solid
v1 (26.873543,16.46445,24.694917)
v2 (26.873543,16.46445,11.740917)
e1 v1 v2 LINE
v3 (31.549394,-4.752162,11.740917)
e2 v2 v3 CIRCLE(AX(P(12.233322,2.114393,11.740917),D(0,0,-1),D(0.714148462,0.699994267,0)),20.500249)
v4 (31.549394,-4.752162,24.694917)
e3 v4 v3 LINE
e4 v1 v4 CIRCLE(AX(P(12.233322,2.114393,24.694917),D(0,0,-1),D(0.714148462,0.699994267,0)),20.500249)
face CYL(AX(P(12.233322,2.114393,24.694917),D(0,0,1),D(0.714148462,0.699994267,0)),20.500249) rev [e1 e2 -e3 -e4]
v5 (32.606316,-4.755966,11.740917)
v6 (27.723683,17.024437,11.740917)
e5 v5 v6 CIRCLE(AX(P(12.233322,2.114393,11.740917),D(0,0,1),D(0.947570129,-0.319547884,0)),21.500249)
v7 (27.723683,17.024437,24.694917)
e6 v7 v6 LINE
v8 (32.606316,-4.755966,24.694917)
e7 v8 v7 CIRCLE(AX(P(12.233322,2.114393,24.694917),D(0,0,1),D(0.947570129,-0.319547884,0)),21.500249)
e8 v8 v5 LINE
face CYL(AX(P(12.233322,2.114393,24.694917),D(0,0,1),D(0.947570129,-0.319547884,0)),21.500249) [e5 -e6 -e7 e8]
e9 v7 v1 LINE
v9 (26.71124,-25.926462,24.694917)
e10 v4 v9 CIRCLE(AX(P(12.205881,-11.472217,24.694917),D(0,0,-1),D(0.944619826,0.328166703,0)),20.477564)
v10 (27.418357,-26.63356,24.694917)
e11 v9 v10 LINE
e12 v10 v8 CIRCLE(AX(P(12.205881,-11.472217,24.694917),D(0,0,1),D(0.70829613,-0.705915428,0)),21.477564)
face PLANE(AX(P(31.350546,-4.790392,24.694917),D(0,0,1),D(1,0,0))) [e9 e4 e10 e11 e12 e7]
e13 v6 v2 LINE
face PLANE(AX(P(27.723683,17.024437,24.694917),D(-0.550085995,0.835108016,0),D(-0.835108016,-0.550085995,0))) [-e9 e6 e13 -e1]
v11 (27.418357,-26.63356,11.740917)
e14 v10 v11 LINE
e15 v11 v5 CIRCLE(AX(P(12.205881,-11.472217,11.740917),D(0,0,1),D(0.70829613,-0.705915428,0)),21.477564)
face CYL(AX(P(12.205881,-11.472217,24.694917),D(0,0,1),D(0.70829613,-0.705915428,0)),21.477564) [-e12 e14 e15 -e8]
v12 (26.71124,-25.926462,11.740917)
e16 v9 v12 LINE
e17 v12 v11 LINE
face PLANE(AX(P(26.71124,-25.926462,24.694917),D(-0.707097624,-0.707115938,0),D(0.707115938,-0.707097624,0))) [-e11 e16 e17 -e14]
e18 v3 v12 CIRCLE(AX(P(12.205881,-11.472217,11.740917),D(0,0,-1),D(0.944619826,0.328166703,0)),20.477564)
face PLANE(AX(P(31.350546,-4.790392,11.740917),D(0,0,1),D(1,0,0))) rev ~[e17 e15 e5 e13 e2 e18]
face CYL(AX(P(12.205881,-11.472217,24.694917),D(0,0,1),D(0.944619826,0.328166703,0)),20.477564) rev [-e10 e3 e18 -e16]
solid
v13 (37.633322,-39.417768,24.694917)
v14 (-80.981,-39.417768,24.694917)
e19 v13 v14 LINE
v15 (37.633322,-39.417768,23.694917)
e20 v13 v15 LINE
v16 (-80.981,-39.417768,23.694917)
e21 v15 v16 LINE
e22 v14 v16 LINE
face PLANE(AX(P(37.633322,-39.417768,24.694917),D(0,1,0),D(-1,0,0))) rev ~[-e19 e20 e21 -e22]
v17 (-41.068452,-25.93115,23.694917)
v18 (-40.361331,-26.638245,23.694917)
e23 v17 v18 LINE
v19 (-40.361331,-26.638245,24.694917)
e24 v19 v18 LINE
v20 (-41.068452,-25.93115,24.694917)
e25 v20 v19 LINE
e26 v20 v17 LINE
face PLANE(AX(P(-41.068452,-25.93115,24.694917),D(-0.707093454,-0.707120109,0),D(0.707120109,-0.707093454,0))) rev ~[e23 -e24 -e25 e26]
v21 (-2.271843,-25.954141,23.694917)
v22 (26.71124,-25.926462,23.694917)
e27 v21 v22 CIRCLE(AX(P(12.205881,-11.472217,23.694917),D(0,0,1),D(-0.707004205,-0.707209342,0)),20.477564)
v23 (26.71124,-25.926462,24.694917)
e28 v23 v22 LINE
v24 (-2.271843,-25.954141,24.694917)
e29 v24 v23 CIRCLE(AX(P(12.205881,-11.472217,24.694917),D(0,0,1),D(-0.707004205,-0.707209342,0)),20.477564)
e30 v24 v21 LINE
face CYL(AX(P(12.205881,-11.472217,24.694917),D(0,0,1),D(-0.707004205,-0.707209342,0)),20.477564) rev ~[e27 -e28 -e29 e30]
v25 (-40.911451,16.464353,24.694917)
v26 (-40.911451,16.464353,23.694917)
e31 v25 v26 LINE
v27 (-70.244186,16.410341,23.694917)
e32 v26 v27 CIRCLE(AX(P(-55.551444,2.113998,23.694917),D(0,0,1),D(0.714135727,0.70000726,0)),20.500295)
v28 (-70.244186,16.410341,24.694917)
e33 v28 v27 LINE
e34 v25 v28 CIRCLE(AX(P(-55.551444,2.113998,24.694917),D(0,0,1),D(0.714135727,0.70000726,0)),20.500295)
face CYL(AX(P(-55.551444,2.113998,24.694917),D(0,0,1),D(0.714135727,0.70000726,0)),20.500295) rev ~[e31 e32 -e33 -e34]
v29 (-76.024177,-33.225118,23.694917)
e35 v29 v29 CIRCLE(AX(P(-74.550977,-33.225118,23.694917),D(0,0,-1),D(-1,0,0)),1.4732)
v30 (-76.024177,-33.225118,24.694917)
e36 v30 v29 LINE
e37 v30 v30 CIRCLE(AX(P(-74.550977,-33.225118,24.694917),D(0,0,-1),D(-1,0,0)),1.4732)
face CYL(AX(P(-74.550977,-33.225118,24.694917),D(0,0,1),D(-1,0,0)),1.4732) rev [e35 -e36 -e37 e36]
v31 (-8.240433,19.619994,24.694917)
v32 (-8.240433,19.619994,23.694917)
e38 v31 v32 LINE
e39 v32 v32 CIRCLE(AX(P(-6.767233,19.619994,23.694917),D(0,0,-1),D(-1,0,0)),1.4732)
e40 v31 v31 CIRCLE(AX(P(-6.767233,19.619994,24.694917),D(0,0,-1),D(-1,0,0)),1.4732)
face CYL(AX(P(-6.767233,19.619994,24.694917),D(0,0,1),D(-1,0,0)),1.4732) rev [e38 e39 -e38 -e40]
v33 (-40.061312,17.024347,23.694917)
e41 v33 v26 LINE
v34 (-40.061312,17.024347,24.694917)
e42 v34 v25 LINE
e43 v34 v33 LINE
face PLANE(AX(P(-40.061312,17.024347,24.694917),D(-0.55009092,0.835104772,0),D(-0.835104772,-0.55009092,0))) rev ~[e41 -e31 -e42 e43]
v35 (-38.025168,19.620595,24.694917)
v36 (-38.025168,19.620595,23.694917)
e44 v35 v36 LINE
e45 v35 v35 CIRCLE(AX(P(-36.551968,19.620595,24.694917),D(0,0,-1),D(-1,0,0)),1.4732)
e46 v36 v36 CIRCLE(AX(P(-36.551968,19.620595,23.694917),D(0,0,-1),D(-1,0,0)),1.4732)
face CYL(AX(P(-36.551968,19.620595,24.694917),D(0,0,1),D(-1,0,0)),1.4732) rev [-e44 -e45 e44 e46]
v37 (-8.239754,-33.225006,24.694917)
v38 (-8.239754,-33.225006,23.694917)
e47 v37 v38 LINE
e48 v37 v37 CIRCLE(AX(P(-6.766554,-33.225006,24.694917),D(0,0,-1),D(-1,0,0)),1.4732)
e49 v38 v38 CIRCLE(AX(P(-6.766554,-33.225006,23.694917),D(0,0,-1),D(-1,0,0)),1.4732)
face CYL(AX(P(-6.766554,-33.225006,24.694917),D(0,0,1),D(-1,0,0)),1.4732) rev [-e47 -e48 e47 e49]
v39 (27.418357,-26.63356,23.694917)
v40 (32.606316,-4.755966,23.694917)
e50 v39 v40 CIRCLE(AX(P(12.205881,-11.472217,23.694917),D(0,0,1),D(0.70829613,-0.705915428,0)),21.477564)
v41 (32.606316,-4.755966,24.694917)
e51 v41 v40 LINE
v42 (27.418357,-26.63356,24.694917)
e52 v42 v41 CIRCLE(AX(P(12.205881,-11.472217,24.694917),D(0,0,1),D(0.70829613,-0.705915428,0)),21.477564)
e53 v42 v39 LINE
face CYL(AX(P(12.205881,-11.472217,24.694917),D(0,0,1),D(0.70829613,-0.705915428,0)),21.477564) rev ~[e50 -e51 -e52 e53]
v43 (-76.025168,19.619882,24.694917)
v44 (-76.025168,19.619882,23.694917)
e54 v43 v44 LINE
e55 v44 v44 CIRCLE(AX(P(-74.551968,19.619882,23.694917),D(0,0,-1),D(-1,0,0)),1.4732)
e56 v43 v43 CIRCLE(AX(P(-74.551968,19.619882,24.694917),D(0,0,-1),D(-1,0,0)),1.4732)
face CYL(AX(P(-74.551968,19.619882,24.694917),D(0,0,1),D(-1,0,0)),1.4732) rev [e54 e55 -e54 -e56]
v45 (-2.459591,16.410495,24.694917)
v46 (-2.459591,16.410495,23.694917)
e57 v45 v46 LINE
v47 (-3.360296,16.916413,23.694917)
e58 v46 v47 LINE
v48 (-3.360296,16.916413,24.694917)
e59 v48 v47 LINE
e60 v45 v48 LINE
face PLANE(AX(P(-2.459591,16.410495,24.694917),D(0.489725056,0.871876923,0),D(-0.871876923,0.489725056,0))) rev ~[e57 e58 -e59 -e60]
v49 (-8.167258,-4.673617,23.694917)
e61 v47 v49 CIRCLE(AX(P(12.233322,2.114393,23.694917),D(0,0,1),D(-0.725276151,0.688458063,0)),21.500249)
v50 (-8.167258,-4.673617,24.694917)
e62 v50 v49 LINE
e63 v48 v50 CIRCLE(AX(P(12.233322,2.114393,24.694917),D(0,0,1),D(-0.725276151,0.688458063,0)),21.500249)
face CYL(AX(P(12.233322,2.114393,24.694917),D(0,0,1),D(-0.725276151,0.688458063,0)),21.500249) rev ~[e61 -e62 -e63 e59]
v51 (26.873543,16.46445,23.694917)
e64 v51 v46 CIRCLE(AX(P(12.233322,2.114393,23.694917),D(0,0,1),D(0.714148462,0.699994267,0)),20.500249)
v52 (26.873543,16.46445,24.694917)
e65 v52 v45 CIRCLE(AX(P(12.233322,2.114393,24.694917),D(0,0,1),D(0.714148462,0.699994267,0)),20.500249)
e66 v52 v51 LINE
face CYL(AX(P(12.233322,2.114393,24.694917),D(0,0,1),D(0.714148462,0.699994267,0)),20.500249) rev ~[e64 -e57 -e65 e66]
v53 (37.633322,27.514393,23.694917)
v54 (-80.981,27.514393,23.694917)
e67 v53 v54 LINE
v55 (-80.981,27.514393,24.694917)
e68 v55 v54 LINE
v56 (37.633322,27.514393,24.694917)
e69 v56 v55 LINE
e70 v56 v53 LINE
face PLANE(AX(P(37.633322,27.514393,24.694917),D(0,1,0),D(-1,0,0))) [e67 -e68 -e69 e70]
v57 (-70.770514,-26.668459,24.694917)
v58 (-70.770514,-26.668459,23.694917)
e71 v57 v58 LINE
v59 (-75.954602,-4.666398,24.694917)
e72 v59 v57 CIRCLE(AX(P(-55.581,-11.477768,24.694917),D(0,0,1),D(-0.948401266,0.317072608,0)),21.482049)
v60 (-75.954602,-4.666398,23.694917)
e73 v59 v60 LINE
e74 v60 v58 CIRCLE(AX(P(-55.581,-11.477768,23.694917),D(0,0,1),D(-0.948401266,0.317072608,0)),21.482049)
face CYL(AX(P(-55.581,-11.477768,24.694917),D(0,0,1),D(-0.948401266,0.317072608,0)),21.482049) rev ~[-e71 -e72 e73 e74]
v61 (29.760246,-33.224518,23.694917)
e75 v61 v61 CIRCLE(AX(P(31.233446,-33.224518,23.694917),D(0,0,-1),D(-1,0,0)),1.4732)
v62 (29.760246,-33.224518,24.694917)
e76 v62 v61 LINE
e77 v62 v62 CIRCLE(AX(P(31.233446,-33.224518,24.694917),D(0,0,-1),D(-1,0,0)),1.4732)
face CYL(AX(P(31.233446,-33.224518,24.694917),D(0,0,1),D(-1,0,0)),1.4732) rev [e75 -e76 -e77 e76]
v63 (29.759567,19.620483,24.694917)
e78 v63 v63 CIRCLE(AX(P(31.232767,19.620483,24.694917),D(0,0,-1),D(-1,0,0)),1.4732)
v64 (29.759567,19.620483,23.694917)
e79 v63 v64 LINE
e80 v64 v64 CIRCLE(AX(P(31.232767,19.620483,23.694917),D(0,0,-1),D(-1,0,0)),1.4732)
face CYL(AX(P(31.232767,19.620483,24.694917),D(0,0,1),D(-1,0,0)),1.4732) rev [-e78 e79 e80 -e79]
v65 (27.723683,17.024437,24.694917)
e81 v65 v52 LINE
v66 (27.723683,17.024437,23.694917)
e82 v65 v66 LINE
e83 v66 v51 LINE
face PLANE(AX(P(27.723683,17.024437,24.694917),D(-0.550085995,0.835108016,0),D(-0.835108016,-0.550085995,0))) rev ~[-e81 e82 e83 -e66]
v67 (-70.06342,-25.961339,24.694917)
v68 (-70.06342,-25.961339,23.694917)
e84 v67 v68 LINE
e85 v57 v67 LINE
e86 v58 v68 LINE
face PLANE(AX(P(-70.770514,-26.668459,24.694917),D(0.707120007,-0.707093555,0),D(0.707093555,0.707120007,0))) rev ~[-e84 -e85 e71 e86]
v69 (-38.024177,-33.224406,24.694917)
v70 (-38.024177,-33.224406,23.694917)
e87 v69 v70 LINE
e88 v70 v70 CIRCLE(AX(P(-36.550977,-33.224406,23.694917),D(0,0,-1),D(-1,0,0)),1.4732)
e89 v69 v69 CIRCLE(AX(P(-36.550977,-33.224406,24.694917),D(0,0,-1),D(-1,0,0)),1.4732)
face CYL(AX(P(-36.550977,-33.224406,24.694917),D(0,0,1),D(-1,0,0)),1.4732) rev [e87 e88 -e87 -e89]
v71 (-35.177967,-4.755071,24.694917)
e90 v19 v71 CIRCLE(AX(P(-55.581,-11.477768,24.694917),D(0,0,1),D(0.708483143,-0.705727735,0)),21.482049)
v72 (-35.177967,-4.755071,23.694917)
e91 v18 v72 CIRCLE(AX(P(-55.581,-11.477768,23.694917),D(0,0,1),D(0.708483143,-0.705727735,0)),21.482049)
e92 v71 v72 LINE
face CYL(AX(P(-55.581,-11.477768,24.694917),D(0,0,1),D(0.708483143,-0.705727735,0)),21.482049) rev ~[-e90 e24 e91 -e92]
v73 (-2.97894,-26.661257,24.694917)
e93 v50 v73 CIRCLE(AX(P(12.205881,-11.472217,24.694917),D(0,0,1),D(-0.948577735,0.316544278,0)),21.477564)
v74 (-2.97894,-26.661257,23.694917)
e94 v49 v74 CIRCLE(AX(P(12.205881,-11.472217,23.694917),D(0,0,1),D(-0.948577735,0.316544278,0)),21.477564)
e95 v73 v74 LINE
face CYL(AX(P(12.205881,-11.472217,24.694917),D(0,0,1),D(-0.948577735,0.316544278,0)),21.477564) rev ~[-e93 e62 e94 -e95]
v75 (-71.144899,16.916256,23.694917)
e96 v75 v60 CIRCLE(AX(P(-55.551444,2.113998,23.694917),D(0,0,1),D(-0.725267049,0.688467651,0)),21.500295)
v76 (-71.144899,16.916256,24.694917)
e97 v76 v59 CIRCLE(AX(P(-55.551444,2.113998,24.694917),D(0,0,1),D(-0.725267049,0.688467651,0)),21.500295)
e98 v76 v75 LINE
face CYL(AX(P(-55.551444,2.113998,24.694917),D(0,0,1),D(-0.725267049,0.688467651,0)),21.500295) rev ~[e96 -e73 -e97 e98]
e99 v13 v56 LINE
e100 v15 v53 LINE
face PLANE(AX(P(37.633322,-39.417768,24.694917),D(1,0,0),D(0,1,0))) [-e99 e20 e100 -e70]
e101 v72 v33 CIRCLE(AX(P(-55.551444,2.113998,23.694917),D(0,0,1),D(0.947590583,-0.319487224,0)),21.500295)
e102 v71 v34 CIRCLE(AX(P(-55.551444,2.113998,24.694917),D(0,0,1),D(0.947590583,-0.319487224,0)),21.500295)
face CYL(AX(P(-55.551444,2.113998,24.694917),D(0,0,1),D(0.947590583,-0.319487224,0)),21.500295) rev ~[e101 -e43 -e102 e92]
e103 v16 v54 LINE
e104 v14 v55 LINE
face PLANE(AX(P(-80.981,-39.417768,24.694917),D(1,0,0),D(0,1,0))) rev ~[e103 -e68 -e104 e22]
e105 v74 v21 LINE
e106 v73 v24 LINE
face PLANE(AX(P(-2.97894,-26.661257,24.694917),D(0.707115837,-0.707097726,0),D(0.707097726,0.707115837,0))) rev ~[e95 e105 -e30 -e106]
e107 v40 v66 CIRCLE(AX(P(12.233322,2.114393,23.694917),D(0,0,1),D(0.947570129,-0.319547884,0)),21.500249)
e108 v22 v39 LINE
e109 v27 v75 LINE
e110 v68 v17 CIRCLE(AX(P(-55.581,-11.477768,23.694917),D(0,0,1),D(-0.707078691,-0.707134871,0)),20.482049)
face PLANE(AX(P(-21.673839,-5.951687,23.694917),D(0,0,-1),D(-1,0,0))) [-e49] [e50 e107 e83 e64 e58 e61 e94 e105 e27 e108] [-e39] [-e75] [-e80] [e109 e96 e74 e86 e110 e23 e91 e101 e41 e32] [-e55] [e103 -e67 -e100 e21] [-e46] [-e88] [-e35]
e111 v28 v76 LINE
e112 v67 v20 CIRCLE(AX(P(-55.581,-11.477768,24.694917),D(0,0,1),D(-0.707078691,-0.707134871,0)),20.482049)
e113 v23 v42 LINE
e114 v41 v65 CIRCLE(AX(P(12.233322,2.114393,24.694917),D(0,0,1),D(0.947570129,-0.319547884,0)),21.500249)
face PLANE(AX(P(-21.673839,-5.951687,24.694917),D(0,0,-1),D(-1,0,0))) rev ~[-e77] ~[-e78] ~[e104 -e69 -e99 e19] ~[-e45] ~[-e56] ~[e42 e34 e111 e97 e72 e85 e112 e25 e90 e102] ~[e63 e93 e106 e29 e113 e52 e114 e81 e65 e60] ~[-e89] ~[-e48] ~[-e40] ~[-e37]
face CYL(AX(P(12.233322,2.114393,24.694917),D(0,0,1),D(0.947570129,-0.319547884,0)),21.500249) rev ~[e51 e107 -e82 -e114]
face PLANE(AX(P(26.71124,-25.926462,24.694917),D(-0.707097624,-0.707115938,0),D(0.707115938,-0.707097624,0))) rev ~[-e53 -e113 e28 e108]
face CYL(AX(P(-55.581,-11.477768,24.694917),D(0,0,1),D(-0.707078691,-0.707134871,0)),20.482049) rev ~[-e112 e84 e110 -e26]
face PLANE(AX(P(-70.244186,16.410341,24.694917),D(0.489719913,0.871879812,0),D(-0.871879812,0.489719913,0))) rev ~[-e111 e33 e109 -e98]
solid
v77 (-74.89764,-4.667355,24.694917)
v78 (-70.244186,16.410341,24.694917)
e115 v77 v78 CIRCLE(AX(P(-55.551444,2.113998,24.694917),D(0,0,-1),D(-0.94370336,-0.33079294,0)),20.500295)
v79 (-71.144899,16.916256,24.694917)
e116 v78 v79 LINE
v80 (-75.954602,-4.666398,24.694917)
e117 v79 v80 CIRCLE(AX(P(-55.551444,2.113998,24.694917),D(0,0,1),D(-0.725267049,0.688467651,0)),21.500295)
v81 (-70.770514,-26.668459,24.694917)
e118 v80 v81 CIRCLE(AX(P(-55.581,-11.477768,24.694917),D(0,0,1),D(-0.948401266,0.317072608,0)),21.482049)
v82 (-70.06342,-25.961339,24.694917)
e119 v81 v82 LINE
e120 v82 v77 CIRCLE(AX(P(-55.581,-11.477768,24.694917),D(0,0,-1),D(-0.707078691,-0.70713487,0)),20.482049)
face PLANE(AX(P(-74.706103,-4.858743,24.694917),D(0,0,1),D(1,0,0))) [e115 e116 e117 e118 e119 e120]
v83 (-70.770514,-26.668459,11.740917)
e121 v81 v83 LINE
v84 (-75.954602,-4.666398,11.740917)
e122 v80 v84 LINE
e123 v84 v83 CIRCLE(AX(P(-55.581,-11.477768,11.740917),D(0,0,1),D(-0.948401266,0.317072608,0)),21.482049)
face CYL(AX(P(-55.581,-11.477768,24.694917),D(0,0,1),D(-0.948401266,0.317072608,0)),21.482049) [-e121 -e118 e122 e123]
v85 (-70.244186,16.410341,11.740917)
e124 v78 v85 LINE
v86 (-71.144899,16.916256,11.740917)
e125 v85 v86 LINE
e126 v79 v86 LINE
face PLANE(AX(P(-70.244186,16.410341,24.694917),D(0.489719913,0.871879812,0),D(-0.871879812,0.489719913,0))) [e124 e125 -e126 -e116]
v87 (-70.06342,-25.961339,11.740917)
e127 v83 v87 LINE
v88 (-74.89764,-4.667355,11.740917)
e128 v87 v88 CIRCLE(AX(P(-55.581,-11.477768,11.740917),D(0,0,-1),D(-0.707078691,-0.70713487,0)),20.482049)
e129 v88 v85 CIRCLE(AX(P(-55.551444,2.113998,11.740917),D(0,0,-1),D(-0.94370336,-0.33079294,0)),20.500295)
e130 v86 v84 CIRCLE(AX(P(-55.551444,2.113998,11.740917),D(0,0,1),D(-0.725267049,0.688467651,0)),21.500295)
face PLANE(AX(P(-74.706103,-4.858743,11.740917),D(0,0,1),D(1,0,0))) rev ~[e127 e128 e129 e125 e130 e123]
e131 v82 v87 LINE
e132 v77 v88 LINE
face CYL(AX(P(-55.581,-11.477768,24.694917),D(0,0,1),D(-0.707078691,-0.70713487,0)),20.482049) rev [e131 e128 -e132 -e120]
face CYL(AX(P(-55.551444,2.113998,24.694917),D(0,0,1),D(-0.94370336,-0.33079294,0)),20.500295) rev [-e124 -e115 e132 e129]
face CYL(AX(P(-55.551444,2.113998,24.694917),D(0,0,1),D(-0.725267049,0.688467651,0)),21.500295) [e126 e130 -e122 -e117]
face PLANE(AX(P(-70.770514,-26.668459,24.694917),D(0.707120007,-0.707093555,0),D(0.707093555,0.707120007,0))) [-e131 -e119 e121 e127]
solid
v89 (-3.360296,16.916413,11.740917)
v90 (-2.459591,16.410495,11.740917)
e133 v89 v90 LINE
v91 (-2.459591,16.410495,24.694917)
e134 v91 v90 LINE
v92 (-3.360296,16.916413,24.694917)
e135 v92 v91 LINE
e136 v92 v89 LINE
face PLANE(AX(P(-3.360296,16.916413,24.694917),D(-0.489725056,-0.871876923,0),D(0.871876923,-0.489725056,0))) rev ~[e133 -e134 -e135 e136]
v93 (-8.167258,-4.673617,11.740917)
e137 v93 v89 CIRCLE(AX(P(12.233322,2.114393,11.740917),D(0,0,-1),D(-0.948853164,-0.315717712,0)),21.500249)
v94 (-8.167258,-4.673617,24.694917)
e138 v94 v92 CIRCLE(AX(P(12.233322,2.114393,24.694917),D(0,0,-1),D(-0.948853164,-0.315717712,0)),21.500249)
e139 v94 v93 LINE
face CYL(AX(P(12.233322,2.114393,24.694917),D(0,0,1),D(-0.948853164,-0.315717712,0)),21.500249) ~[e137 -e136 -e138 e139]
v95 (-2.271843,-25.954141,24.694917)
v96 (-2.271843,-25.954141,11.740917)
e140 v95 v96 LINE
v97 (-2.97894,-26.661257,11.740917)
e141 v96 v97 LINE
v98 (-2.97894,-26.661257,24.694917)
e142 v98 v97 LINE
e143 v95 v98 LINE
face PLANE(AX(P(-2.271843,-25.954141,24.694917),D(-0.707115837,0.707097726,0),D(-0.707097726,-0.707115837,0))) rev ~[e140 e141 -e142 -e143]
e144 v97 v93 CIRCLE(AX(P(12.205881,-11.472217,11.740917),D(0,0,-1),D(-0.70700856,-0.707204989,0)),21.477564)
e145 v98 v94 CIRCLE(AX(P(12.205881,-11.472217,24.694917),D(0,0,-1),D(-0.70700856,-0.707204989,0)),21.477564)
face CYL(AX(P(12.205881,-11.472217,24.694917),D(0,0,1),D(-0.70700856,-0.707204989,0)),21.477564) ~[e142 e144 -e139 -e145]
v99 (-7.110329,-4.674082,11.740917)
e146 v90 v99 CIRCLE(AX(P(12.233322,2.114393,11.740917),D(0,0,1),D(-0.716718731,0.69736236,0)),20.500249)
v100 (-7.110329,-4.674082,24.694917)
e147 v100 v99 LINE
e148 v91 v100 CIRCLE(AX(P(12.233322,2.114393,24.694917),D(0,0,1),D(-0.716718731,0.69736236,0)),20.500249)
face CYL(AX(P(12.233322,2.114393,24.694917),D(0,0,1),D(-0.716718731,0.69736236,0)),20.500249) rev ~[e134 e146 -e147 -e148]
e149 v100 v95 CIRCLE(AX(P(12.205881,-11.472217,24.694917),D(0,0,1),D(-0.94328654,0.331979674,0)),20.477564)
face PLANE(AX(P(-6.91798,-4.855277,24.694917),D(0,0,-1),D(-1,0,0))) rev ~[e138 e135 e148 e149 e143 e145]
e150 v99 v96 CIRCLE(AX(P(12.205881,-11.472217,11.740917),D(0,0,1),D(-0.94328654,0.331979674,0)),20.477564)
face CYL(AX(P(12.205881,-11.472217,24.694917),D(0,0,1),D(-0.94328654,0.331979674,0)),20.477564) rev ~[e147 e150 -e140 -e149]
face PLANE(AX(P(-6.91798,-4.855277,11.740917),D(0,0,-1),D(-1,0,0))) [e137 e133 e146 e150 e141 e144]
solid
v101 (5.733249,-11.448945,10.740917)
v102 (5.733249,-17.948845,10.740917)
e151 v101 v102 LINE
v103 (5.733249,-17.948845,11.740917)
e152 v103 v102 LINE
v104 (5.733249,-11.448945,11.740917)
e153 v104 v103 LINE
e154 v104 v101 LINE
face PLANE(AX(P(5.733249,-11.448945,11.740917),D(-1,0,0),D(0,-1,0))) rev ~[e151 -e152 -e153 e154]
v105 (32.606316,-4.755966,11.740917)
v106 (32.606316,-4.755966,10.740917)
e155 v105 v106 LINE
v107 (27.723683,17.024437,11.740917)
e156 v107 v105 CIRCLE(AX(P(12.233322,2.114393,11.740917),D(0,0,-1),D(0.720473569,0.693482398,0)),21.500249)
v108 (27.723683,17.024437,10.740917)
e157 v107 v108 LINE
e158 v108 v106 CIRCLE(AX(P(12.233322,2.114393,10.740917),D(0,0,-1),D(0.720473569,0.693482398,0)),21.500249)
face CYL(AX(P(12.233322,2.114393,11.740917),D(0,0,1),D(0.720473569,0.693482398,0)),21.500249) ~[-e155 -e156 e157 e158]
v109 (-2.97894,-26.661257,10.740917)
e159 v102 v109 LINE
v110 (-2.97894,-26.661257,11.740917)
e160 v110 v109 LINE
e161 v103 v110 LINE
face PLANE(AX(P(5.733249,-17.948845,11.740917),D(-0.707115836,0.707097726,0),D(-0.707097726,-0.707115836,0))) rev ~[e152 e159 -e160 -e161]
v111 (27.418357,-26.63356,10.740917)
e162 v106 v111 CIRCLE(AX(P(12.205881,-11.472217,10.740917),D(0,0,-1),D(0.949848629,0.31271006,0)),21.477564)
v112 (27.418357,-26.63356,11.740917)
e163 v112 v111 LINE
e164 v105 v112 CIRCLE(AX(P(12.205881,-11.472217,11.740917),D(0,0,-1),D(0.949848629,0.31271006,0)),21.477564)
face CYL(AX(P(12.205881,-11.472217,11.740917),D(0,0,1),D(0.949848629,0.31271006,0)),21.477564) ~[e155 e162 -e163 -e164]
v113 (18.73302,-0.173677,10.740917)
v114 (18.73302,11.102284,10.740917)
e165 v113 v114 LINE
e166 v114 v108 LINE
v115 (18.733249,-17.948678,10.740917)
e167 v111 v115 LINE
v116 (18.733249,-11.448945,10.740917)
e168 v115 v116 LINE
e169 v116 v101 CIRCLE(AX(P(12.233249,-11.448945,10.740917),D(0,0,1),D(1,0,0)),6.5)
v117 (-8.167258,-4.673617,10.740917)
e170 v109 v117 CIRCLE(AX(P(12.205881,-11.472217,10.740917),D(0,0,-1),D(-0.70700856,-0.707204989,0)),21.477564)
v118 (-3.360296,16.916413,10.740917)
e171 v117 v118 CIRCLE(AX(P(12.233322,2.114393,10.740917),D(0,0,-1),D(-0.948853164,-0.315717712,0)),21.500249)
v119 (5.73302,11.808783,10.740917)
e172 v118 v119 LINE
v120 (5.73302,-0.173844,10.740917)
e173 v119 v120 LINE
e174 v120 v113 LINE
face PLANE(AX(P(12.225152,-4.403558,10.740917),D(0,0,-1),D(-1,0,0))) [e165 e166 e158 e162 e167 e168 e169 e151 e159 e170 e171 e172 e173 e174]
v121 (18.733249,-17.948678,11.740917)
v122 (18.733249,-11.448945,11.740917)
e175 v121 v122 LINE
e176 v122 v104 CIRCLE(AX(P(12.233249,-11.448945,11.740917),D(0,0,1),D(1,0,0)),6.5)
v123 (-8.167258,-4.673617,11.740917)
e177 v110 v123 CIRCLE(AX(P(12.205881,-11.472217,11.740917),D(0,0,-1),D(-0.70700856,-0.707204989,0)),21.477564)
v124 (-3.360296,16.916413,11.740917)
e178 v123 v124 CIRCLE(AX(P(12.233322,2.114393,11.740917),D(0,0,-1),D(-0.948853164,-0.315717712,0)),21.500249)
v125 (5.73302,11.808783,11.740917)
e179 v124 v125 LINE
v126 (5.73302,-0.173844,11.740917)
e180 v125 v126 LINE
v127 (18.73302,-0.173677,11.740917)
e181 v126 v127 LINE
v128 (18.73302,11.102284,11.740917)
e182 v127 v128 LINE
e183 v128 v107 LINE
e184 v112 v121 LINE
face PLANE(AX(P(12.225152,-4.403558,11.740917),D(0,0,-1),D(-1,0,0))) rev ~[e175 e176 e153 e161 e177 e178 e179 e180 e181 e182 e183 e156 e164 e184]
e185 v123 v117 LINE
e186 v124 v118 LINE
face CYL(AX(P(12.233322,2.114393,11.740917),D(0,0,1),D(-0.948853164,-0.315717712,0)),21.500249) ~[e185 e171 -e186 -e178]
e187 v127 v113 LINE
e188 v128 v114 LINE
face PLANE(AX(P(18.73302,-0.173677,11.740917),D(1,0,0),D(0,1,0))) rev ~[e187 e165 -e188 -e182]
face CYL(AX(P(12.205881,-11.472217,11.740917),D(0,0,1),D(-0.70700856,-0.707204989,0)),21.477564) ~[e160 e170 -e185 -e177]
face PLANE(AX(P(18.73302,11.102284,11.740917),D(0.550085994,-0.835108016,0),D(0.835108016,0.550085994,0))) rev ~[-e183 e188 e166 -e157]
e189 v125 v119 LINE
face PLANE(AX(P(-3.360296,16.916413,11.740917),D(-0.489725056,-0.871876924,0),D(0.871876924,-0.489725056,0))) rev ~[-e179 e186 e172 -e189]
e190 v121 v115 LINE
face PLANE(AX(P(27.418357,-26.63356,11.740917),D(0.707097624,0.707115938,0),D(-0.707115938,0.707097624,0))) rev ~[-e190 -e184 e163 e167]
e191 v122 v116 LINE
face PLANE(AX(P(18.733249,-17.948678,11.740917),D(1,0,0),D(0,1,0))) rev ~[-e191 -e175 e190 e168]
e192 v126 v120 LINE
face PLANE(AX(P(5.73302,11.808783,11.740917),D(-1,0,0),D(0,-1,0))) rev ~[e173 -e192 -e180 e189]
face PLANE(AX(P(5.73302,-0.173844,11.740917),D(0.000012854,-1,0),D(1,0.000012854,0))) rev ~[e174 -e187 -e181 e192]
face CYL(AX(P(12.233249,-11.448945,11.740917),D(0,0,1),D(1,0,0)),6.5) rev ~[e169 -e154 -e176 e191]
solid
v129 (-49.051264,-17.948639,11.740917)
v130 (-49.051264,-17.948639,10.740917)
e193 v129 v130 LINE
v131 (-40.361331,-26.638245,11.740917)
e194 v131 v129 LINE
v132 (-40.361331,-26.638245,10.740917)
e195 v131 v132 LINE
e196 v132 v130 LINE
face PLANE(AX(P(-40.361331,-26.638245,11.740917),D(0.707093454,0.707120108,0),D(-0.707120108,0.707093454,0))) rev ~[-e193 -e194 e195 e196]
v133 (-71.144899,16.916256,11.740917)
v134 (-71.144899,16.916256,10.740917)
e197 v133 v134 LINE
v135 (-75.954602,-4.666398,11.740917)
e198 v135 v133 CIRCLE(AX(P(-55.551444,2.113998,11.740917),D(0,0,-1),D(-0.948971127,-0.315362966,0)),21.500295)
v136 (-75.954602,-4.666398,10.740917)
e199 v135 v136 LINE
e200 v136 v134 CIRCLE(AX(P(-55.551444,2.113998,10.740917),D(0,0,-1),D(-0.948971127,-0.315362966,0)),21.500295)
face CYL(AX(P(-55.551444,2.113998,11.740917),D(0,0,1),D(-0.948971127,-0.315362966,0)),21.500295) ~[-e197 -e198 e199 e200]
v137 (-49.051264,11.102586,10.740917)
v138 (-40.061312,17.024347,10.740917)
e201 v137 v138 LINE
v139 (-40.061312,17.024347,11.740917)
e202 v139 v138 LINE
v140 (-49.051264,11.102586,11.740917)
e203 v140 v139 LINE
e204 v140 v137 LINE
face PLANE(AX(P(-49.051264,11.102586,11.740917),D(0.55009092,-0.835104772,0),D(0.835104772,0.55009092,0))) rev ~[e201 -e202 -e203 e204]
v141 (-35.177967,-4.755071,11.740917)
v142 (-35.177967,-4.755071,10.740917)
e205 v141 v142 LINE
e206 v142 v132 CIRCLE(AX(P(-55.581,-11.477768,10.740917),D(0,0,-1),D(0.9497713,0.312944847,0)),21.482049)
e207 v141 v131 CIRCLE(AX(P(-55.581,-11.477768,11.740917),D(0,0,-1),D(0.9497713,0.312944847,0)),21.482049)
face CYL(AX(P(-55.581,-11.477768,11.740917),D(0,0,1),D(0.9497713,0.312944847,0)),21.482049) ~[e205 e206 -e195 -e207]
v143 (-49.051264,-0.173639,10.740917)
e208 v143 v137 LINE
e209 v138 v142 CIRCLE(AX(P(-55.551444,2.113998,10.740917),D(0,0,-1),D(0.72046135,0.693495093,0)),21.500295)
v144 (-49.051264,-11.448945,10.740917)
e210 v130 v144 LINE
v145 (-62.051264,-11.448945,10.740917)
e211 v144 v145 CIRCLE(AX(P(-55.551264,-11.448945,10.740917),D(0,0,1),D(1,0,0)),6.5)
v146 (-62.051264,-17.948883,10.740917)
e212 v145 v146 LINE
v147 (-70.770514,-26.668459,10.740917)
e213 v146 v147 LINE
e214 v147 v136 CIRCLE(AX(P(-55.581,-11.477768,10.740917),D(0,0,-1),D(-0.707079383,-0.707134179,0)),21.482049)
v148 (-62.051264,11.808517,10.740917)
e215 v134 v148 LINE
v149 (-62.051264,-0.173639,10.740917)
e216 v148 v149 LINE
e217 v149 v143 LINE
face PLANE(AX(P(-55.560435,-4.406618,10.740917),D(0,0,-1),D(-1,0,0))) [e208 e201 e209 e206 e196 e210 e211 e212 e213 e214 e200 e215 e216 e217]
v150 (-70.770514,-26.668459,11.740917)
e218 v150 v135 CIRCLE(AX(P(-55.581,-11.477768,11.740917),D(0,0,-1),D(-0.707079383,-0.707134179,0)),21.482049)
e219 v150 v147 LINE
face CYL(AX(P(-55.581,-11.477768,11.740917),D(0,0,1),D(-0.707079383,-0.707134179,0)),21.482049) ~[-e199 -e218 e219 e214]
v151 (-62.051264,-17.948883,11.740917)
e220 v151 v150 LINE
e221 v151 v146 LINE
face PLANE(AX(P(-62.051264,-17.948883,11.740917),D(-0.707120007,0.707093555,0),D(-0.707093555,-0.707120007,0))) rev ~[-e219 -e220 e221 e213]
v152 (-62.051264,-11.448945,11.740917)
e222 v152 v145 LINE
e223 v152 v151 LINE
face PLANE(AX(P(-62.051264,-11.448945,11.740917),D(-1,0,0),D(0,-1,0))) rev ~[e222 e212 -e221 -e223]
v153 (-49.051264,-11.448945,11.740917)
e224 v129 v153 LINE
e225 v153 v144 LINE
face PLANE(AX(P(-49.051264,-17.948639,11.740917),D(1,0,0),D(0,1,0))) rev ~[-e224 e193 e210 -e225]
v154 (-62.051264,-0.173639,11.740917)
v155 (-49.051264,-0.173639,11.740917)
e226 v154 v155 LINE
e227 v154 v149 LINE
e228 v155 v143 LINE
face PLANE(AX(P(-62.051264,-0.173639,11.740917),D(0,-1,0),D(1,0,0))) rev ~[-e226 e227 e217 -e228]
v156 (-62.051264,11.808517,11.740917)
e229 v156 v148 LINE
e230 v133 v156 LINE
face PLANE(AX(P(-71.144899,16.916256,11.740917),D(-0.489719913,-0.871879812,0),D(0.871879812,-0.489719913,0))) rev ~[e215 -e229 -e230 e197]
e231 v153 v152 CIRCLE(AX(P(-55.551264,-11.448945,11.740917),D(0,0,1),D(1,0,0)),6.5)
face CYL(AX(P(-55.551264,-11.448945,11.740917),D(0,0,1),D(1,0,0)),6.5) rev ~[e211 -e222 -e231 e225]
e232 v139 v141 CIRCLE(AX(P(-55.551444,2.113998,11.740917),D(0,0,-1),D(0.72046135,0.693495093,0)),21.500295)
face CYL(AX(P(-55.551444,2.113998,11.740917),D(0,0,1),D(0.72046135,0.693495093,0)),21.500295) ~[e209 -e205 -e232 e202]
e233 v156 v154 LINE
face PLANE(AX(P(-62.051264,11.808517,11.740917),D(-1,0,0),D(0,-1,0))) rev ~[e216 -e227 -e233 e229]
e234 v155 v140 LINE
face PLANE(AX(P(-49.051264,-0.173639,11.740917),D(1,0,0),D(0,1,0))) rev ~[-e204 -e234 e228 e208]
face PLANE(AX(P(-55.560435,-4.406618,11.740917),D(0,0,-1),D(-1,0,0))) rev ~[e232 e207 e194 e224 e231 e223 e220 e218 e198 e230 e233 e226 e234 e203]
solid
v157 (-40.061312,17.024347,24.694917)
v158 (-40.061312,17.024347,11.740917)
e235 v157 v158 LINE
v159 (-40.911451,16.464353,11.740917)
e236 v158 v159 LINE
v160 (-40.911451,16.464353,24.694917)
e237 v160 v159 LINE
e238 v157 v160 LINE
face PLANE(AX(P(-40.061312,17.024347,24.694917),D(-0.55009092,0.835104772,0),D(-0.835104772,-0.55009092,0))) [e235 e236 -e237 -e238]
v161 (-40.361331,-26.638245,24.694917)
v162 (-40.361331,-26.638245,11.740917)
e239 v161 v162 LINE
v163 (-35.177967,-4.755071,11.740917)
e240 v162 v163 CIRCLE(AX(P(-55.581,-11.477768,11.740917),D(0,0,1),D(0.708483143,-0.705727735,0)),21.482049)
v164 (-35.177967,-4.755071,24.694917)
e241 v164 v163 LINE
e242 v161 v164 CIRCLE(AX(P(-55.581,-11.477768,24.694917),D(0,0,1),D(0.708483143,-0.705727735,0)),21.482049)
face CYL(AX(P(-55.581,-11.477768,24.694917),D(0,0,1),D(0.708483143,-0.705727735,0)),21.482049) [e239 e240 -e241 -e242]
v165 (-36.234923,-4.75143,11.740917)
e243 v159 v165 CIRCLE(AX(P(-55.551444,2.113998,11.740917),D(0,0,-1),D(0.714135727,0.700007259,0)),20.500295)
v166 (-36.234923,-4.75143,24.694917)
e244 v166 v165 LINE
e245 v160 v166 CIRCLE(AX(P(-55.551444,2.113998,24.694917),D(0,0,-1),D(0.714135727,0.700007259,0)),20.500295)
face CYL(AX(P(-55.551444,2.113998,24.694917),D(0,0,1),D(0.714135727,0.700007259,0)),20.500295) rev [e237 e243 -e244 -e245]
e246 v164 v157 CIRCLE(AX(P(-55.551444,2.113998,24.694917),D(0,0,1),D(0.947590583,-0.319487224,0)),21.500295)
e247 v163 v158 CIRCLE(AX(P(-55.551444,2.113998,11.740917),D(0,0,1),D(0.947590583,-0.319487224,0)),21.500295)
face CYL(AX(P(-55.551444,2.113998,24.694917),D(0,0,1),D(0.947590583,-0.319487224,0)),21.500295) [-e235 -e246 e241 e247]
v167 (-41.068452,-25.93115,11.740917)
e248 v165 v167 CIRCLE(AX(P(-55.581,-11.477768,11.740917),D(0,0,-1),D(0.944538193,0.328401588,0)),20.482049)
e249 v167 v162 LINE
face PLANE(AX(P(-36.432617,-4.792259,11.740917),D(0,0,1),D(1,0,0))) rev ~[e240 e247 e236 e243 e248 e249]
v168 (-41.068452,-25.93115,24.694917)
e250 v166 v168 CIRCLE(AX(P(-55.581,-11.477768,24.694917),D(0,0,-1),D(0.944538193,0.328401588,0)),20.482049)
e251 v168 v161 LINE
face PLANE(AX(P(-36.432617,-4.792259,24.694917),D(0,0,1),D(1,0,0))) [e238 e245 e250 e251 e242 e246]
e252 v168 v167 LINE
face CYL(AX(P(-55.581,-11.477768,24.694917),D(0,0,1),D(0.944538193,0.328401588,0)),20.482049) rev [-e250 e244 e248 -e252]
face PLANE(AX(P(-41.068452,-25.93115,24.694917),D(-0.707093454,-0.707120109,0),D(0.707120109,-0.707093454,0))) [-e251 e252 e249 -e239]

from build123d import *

# Parameters (mm, degrees)
BOSS_EXTRUDE1_DEPTH   = 12.954
BOSS_EXTRUDE1_2_DEPTH = 12.954
BOSS_EXTRUDE1_3_DEPTH = 12.954
BOSS_EXTRUDE1_4_DEPTH = 12.954
SKETCH1_5_W           = 118.614322008
SKETCH1_5_H           = 66.932160629
SKETCH1_5_R           = 1.4732
BOSS_EXTRUDE7_DEPTH   = 1
BOSS_EXTRUDE8_DEPTH   = 1
BOSS_EXTRUDE8_2_DEPTH = 1


with BuildPart() as part:
    # Sketch1 → Boss-Extrude1 (new body)
    with BuildSketch(Plane(origin=(0, 0, 24.694917193), x_dir=(-1, 0, 0), z_dir=(0, 0, -1))):
        with BuildLine():
            Line((-26.711239732, -25.926461717), (-27.418356705, -26.633560376))
            ThreePointArc((-27.418356705, -26.633560376), (-33.103898465, -16.427883163), (-32.606315955, -4.755966263))
            ThreePointArc((-32.606315955, -4.755966263), (-33.212872936, 6.817494073), (-27.723683277, 17.024437416))
            Line((-27.723683277, 17.024437416), (-26.873543442, 16.464449956))
            ThreePointArc((-26.873543442, 16.464449956), (-32.253152748, 6.526489502), (-31.549394168, -4.75216193))
            ThreePointArc((-31.549394168, -4.75216193), (-32.168953824, -16.033615513), (-26.711239732, -25.926461717))
        make_face()
    extrude(amount=BOSS_EXTRUDE1_DEPTH)


with BuildPart() as body_2:
    # Sketch1 → Boss-Extrude1 2 (new body)
    with BuildSketch(Plane(origin=(0, 0, 24.694917193), x_dir=(-1, 0, 0), z_dir=(0, 0, -1))):
        with BuildLine():
            Line((2.271842608, -25.95414115), (2.978940339, -26.661256992))
            ThreePointArc((2.978940339, -26.661256992), (8.697616612, -16.404714138), (8.167257761, -4.673616614))
            ThreePointArc((8.167257761, -4.673616614), (8.753052566, 6.786952267), (3.360296242, 16.916412955))
            Line((3.360296242, 16.916412955), (2.459590829, 16.410495208))
            ThreePointArc((2.459590829, 16.410495208), (7.785713157, 6.530099053), (7.11032923, -4.674081586))
            ThreePointArc((7.11032923, -4.674081586), (7.76203635, -16.012359065), (2.271842608, -25.95414115))
        make_face()
    extrude(amount=BOSS_EXTRUDE1_2_DEPTH)


with BuildPart() as body_3:
    # Sketch1 → Boss-Extrude1 3 (new body)
    with BuildSketch(Plane(origin=(0, 0, 24.694917193), x_dir=(-1, 0, 0), z_dir=(0, 0, -1))):
        with BuildLine():
            Line((40.061312196, 17.024347064), (40.911450673, 16.464353309))
            ThreePointArc((40.911450673, 16.464353309), (35.531738914, 6.526878162), (36.234922811, -4.751430369))
            ThreePointArc((36.234922811, -4.751430369), (35.612355655, -16.034911484), (41.068452193, -25.931150492))
            Line((41.068452193, -25.931150492), (40.361330704, -26.638245326))
            ThreePointArc((40.361330704, -26.638245326), (34.677350547, -16.429116332), (35.177966741, -4.755071247))
            ThreePointArc((35.177966741, -4.755071247), (34.572040238, 6.81796561), (40.061312196, 17.024347064))
        make_face()
    extrude(amount=BOSS_EXTRUDE1_3_DEPTH)


with BuildPart() as body_4:
    # Sketch1 → Boss-Extrude1 4 (new body)
    with BuildSketch(Plane(origin=(0, 0, 24.694917193), x_dir=(-1, 0, 0), z_dir=(0, 0, -1))):
        with BuildLine():
            Line((70.244185819, 16.410340589), (71.144898793, 16.916255594))
            ThreePointArc((71.144898793, 16.916255594), (76.536957488, 6.790628874), (75.954602378, -4.666398488))
            ThreePointArc((75.954602378, -4.666398488), (76.490482856, -16.40442492), (70.770513911, -26.668458613))
            Line((70.770513911, -26.668458613), (70.063420356, -25.961338606))
            ThreePointArc((70.063420356, -25.961338606), (75.554797046, -16.01227522), (74.897640471, -4.667354531))
            ThreePointArc((74.897640471, -4.667354531), (75.569676563, 6.533548794), (70.244185819, 16.410340589))
        make_face()
    extrude(amount=BOSS_EXTRUDE1_4_DEPTH)


with BuildPart() as body_5:
    # Sketch1<5> → Boss-Extrude7 (new body)
    with BuildSketch(Plane(origin=(0, 0, 24.694917193), x_dir=(-1, 0, 0), z_dir=(0, 0, -1))):
        with Locations((21.673839127, -5.951687391)):
            Rectangle(SKETCH1_5_W, SKETCH1_5_H)
        with Locations((-31.233446035, -33.224517796)):
            Circle(SKETCH1_5_R, mode=Mode.SUBTRACT)
        with Locations((6.766553887, -33.225006242)):
            Circle(SKETCH1_5_R, mode=Mode.SUBTRACT)
        with Locations((36.550977194, -33.224405729)):
            Circle(SKETCH1_5_R, mode=Mode.SUBTRACT)
        with Locations((74.550977113, -33.225118305)):
            Circle(SKETCH1_5_R, mode=Mode.SUBTRACT)
        with BuildLine():
            ThreePointArc((2.271842608, -25.95414115), (-12.225437728, -31.949771243), (-26.711239732, -25.926461717))
            Line((-26.711239732, -25.926461717), (-27.418356705, -26.633560376))
            ThreePointArc((-27.418356705, -26.633560376), (-33.103898465, -16.427883163), (-32.606315955, -4.755966263))
            ThreePointArc((-32.606315955, -4.755966263), (-33.212872936, 6.817494073), (-27.723683277, 17.024437416))
            Line((-27.723683277, 17.024437416), (-26.873543442, 16.464449956))
            ThreePointArc((-26.873543442, 16.464449956), (-12.195614215, 22.614607616), (2.459590829, 16.410495208))
            Line((2.459590829, 16.410495208), (3.360296242, 16.916412955))
            ThreePointArc((3.360296242, 16.916412955), (8.753052566, 6.786952267), (8.167257761, -4.673616614))
            ThreePointArc((8.167257761, -4.673616614), (8.697616612, -16.404714138), (2.978940339, -26.661256992))
            Line((2.978940339, -26.661256992), (2.271842608, -25.95414115))
        make_face(mode=Mode.SUBTRACT)
        with Locations((-31.232766774, 19.620482705)):
            Circle(SKETCH1_5_R, mode=Mode.SUBTRACT)
        with Locations((6.767233148, 19.619994259)):
            Circle(SKETCH1_5_R, mode=Mode.SUBTRACT)
        with BuildLine():
            ThreePointArc((35.177966741, -4.755071247), (34.572040238, 6.81796561), (40.061312196, 17.024347064))
            Line((40.061312196, 17.024347064), (40.911450673, 16.464353309))
            ThreePointArc((40.911450673, 16.464353309), (55.589192289, 22.614258134), (70.244185819, 16.410340589))
            Line((70.244185819, 16.410340589), (71.144898793, 16.916255594))
            ThreePointArc((71.144898793, 16.916255594), (76.536957488, 6.790628874), (75.954602378, -4.666398488))
            ThreePointArc((75.954602378, -4.666398488), (76.490482856, -16.40442492), (70.770513911, -26.668458613))
            Line((70.770513911, -26.668458613), (70.063420356, -25.961338606))
            ThreePointArc((70.063420356, -25.961338606), (55.559675255, -31.959805369), (41.068452193, -25.931150492))
            Line((41.068452193, -25.931150492), (40.361330704, -26.638245326))
            ThreePointArc((40.361330704, -26.638245326), (34.677350547, -16.429116332), (35.177966741, -4.755071247))
        make_face(mode=Mode.SUBTRACT)
        with Locations((36.551968143, 19.620594767)):
            Circle(SKETCH1_5_R, mode=Mode.SUBTRACT)
        with Locations((74.551968061, 19.619882191)):
            Circle(SKETCH1_5_R, mode=Mode.SUBTRACT)
    extrude(amount=BOSS_EXTRUDE7_DEPTH)


with BuildPart() as body_6:
    # Sketch4 → Boss-Extrude8 (new body)
    with BuildSketch(Plane(origin=(0, 0, 11.740917193), x_dir=(-1, 0, 0), z_dir=(0, 0, -1))):
        with BuildLine():
            ThreePointArc((35.177966741, -4.755071247), (34.677350547, -16.429116332), (40.361330704, -26.638245326))
            Line((40.361330704, -26.638245326), (49.051264407, -17.948639189))
            Line((49.051264407, -17.948639189), (49.051264407, -11.448944696))
            ThreePointArc((49.051264407, -11.448944696), (55.551264423, -4.948944679), (62.05126444, -11.448944696))
            Line((62.05126444, -11.448944696), (62.05126444, -17.948882965))
            Line((62.05126444, -17.948882965), (70.770513911, -26.668458613))
            ThreePointArc((70.770513911, -26.668458613), (76.490482856, -16.40442492), (75.954602378, -4.666398488))
            ThreePointArc((75.954602378, -4.666398488), (76.536957488, 6.790628874), (71.144898793, 16.916255594))
            Line((71.144898793, 16.916255594), (62.05126444, 11.808517386))
            Line((62.05126444, 11.808517386), (62.05126444, -0.173638647))
            Line((62.05126444, -0.173638647), (49.051264407, -0.173638647))
            Line((49.051264407, -0.173638647), (49.051264407, 11.102585807))
            Line((49.051264407, 11.102585807), (40.061312196, 17.024347064))
            ThreePointArc((40.061312196, 17.024347064), (34.572040238, 6.81796561), (35.177966741, -4.755071247))
        make_face()
    extrude(amount=BOSS_EXTRUDE8_DEPTH)


with BuildPart() as body_7:
    # Sketch4 → Boss-Extrude8 2 (new body)
    with BuildSketch(Plane(origin=(0, 0, 11.740917193), x_dir=(-1, 0, 0), z_dir=(0, 0, -1))):
        with BuildLine():
            ThreePointArc((8.167257761, -4.673616614), (8.753052566, 6.786952267), (3.360296242, 16.916412955))
            Line((3.360296242, 16.916412955), (-5.73302041, 11.808782641))
            Line((-5.73302041, 11.808782641), (-5.73302041, -0.17384409))
            Line((-5.73302041, -0.17384409), (-18.733020444, -0.17367699))
            Line((-18.733020444, -0.17367699), (-18.733020444, 11.102284103))
            Line((-18.733020444, 11.102284103), (-27.723683277, 17.024437416))
            ThreePointArc((-27.723683277, 17.024437416), (-33.212872936, 6.817494073), (-32.606315955, -4.755966263))
            ThreePointArc((-32.606315955, -4.755966263), (-33.103898465, -16.427883163), (-27.418356705, -26.633560376))
            Line((-27.418356705, -26.633560376), (-18.733248921, -17.948677527))
            Line((-18.733248921, -17.948677527), (-18.733248921, -11.448944686))
            ThreePointArc((-18.733248921, -11.448944686), (-12.233248904, -4.948944669), (-5.733248887, -11.448944686))
            Line((-5.733248887, -11.448944686), (-5.733248887, -17.948844627))
            Line((-5.733248887, -17.948844627), (2.978940339, -26.661256992))
            ThreePointArc((2.978940339, -26.661256992), (8.697616612, -16.404714138), (8.167257761, -4.673616614))
        make_face()
    extrude(amount=BOSS_EXTRUDE8_2_DEPTH)


solid = Compound([part.part, body_2.part, body_3.part, body_4.part, body_5.part, body_6.part, body_7.part])
